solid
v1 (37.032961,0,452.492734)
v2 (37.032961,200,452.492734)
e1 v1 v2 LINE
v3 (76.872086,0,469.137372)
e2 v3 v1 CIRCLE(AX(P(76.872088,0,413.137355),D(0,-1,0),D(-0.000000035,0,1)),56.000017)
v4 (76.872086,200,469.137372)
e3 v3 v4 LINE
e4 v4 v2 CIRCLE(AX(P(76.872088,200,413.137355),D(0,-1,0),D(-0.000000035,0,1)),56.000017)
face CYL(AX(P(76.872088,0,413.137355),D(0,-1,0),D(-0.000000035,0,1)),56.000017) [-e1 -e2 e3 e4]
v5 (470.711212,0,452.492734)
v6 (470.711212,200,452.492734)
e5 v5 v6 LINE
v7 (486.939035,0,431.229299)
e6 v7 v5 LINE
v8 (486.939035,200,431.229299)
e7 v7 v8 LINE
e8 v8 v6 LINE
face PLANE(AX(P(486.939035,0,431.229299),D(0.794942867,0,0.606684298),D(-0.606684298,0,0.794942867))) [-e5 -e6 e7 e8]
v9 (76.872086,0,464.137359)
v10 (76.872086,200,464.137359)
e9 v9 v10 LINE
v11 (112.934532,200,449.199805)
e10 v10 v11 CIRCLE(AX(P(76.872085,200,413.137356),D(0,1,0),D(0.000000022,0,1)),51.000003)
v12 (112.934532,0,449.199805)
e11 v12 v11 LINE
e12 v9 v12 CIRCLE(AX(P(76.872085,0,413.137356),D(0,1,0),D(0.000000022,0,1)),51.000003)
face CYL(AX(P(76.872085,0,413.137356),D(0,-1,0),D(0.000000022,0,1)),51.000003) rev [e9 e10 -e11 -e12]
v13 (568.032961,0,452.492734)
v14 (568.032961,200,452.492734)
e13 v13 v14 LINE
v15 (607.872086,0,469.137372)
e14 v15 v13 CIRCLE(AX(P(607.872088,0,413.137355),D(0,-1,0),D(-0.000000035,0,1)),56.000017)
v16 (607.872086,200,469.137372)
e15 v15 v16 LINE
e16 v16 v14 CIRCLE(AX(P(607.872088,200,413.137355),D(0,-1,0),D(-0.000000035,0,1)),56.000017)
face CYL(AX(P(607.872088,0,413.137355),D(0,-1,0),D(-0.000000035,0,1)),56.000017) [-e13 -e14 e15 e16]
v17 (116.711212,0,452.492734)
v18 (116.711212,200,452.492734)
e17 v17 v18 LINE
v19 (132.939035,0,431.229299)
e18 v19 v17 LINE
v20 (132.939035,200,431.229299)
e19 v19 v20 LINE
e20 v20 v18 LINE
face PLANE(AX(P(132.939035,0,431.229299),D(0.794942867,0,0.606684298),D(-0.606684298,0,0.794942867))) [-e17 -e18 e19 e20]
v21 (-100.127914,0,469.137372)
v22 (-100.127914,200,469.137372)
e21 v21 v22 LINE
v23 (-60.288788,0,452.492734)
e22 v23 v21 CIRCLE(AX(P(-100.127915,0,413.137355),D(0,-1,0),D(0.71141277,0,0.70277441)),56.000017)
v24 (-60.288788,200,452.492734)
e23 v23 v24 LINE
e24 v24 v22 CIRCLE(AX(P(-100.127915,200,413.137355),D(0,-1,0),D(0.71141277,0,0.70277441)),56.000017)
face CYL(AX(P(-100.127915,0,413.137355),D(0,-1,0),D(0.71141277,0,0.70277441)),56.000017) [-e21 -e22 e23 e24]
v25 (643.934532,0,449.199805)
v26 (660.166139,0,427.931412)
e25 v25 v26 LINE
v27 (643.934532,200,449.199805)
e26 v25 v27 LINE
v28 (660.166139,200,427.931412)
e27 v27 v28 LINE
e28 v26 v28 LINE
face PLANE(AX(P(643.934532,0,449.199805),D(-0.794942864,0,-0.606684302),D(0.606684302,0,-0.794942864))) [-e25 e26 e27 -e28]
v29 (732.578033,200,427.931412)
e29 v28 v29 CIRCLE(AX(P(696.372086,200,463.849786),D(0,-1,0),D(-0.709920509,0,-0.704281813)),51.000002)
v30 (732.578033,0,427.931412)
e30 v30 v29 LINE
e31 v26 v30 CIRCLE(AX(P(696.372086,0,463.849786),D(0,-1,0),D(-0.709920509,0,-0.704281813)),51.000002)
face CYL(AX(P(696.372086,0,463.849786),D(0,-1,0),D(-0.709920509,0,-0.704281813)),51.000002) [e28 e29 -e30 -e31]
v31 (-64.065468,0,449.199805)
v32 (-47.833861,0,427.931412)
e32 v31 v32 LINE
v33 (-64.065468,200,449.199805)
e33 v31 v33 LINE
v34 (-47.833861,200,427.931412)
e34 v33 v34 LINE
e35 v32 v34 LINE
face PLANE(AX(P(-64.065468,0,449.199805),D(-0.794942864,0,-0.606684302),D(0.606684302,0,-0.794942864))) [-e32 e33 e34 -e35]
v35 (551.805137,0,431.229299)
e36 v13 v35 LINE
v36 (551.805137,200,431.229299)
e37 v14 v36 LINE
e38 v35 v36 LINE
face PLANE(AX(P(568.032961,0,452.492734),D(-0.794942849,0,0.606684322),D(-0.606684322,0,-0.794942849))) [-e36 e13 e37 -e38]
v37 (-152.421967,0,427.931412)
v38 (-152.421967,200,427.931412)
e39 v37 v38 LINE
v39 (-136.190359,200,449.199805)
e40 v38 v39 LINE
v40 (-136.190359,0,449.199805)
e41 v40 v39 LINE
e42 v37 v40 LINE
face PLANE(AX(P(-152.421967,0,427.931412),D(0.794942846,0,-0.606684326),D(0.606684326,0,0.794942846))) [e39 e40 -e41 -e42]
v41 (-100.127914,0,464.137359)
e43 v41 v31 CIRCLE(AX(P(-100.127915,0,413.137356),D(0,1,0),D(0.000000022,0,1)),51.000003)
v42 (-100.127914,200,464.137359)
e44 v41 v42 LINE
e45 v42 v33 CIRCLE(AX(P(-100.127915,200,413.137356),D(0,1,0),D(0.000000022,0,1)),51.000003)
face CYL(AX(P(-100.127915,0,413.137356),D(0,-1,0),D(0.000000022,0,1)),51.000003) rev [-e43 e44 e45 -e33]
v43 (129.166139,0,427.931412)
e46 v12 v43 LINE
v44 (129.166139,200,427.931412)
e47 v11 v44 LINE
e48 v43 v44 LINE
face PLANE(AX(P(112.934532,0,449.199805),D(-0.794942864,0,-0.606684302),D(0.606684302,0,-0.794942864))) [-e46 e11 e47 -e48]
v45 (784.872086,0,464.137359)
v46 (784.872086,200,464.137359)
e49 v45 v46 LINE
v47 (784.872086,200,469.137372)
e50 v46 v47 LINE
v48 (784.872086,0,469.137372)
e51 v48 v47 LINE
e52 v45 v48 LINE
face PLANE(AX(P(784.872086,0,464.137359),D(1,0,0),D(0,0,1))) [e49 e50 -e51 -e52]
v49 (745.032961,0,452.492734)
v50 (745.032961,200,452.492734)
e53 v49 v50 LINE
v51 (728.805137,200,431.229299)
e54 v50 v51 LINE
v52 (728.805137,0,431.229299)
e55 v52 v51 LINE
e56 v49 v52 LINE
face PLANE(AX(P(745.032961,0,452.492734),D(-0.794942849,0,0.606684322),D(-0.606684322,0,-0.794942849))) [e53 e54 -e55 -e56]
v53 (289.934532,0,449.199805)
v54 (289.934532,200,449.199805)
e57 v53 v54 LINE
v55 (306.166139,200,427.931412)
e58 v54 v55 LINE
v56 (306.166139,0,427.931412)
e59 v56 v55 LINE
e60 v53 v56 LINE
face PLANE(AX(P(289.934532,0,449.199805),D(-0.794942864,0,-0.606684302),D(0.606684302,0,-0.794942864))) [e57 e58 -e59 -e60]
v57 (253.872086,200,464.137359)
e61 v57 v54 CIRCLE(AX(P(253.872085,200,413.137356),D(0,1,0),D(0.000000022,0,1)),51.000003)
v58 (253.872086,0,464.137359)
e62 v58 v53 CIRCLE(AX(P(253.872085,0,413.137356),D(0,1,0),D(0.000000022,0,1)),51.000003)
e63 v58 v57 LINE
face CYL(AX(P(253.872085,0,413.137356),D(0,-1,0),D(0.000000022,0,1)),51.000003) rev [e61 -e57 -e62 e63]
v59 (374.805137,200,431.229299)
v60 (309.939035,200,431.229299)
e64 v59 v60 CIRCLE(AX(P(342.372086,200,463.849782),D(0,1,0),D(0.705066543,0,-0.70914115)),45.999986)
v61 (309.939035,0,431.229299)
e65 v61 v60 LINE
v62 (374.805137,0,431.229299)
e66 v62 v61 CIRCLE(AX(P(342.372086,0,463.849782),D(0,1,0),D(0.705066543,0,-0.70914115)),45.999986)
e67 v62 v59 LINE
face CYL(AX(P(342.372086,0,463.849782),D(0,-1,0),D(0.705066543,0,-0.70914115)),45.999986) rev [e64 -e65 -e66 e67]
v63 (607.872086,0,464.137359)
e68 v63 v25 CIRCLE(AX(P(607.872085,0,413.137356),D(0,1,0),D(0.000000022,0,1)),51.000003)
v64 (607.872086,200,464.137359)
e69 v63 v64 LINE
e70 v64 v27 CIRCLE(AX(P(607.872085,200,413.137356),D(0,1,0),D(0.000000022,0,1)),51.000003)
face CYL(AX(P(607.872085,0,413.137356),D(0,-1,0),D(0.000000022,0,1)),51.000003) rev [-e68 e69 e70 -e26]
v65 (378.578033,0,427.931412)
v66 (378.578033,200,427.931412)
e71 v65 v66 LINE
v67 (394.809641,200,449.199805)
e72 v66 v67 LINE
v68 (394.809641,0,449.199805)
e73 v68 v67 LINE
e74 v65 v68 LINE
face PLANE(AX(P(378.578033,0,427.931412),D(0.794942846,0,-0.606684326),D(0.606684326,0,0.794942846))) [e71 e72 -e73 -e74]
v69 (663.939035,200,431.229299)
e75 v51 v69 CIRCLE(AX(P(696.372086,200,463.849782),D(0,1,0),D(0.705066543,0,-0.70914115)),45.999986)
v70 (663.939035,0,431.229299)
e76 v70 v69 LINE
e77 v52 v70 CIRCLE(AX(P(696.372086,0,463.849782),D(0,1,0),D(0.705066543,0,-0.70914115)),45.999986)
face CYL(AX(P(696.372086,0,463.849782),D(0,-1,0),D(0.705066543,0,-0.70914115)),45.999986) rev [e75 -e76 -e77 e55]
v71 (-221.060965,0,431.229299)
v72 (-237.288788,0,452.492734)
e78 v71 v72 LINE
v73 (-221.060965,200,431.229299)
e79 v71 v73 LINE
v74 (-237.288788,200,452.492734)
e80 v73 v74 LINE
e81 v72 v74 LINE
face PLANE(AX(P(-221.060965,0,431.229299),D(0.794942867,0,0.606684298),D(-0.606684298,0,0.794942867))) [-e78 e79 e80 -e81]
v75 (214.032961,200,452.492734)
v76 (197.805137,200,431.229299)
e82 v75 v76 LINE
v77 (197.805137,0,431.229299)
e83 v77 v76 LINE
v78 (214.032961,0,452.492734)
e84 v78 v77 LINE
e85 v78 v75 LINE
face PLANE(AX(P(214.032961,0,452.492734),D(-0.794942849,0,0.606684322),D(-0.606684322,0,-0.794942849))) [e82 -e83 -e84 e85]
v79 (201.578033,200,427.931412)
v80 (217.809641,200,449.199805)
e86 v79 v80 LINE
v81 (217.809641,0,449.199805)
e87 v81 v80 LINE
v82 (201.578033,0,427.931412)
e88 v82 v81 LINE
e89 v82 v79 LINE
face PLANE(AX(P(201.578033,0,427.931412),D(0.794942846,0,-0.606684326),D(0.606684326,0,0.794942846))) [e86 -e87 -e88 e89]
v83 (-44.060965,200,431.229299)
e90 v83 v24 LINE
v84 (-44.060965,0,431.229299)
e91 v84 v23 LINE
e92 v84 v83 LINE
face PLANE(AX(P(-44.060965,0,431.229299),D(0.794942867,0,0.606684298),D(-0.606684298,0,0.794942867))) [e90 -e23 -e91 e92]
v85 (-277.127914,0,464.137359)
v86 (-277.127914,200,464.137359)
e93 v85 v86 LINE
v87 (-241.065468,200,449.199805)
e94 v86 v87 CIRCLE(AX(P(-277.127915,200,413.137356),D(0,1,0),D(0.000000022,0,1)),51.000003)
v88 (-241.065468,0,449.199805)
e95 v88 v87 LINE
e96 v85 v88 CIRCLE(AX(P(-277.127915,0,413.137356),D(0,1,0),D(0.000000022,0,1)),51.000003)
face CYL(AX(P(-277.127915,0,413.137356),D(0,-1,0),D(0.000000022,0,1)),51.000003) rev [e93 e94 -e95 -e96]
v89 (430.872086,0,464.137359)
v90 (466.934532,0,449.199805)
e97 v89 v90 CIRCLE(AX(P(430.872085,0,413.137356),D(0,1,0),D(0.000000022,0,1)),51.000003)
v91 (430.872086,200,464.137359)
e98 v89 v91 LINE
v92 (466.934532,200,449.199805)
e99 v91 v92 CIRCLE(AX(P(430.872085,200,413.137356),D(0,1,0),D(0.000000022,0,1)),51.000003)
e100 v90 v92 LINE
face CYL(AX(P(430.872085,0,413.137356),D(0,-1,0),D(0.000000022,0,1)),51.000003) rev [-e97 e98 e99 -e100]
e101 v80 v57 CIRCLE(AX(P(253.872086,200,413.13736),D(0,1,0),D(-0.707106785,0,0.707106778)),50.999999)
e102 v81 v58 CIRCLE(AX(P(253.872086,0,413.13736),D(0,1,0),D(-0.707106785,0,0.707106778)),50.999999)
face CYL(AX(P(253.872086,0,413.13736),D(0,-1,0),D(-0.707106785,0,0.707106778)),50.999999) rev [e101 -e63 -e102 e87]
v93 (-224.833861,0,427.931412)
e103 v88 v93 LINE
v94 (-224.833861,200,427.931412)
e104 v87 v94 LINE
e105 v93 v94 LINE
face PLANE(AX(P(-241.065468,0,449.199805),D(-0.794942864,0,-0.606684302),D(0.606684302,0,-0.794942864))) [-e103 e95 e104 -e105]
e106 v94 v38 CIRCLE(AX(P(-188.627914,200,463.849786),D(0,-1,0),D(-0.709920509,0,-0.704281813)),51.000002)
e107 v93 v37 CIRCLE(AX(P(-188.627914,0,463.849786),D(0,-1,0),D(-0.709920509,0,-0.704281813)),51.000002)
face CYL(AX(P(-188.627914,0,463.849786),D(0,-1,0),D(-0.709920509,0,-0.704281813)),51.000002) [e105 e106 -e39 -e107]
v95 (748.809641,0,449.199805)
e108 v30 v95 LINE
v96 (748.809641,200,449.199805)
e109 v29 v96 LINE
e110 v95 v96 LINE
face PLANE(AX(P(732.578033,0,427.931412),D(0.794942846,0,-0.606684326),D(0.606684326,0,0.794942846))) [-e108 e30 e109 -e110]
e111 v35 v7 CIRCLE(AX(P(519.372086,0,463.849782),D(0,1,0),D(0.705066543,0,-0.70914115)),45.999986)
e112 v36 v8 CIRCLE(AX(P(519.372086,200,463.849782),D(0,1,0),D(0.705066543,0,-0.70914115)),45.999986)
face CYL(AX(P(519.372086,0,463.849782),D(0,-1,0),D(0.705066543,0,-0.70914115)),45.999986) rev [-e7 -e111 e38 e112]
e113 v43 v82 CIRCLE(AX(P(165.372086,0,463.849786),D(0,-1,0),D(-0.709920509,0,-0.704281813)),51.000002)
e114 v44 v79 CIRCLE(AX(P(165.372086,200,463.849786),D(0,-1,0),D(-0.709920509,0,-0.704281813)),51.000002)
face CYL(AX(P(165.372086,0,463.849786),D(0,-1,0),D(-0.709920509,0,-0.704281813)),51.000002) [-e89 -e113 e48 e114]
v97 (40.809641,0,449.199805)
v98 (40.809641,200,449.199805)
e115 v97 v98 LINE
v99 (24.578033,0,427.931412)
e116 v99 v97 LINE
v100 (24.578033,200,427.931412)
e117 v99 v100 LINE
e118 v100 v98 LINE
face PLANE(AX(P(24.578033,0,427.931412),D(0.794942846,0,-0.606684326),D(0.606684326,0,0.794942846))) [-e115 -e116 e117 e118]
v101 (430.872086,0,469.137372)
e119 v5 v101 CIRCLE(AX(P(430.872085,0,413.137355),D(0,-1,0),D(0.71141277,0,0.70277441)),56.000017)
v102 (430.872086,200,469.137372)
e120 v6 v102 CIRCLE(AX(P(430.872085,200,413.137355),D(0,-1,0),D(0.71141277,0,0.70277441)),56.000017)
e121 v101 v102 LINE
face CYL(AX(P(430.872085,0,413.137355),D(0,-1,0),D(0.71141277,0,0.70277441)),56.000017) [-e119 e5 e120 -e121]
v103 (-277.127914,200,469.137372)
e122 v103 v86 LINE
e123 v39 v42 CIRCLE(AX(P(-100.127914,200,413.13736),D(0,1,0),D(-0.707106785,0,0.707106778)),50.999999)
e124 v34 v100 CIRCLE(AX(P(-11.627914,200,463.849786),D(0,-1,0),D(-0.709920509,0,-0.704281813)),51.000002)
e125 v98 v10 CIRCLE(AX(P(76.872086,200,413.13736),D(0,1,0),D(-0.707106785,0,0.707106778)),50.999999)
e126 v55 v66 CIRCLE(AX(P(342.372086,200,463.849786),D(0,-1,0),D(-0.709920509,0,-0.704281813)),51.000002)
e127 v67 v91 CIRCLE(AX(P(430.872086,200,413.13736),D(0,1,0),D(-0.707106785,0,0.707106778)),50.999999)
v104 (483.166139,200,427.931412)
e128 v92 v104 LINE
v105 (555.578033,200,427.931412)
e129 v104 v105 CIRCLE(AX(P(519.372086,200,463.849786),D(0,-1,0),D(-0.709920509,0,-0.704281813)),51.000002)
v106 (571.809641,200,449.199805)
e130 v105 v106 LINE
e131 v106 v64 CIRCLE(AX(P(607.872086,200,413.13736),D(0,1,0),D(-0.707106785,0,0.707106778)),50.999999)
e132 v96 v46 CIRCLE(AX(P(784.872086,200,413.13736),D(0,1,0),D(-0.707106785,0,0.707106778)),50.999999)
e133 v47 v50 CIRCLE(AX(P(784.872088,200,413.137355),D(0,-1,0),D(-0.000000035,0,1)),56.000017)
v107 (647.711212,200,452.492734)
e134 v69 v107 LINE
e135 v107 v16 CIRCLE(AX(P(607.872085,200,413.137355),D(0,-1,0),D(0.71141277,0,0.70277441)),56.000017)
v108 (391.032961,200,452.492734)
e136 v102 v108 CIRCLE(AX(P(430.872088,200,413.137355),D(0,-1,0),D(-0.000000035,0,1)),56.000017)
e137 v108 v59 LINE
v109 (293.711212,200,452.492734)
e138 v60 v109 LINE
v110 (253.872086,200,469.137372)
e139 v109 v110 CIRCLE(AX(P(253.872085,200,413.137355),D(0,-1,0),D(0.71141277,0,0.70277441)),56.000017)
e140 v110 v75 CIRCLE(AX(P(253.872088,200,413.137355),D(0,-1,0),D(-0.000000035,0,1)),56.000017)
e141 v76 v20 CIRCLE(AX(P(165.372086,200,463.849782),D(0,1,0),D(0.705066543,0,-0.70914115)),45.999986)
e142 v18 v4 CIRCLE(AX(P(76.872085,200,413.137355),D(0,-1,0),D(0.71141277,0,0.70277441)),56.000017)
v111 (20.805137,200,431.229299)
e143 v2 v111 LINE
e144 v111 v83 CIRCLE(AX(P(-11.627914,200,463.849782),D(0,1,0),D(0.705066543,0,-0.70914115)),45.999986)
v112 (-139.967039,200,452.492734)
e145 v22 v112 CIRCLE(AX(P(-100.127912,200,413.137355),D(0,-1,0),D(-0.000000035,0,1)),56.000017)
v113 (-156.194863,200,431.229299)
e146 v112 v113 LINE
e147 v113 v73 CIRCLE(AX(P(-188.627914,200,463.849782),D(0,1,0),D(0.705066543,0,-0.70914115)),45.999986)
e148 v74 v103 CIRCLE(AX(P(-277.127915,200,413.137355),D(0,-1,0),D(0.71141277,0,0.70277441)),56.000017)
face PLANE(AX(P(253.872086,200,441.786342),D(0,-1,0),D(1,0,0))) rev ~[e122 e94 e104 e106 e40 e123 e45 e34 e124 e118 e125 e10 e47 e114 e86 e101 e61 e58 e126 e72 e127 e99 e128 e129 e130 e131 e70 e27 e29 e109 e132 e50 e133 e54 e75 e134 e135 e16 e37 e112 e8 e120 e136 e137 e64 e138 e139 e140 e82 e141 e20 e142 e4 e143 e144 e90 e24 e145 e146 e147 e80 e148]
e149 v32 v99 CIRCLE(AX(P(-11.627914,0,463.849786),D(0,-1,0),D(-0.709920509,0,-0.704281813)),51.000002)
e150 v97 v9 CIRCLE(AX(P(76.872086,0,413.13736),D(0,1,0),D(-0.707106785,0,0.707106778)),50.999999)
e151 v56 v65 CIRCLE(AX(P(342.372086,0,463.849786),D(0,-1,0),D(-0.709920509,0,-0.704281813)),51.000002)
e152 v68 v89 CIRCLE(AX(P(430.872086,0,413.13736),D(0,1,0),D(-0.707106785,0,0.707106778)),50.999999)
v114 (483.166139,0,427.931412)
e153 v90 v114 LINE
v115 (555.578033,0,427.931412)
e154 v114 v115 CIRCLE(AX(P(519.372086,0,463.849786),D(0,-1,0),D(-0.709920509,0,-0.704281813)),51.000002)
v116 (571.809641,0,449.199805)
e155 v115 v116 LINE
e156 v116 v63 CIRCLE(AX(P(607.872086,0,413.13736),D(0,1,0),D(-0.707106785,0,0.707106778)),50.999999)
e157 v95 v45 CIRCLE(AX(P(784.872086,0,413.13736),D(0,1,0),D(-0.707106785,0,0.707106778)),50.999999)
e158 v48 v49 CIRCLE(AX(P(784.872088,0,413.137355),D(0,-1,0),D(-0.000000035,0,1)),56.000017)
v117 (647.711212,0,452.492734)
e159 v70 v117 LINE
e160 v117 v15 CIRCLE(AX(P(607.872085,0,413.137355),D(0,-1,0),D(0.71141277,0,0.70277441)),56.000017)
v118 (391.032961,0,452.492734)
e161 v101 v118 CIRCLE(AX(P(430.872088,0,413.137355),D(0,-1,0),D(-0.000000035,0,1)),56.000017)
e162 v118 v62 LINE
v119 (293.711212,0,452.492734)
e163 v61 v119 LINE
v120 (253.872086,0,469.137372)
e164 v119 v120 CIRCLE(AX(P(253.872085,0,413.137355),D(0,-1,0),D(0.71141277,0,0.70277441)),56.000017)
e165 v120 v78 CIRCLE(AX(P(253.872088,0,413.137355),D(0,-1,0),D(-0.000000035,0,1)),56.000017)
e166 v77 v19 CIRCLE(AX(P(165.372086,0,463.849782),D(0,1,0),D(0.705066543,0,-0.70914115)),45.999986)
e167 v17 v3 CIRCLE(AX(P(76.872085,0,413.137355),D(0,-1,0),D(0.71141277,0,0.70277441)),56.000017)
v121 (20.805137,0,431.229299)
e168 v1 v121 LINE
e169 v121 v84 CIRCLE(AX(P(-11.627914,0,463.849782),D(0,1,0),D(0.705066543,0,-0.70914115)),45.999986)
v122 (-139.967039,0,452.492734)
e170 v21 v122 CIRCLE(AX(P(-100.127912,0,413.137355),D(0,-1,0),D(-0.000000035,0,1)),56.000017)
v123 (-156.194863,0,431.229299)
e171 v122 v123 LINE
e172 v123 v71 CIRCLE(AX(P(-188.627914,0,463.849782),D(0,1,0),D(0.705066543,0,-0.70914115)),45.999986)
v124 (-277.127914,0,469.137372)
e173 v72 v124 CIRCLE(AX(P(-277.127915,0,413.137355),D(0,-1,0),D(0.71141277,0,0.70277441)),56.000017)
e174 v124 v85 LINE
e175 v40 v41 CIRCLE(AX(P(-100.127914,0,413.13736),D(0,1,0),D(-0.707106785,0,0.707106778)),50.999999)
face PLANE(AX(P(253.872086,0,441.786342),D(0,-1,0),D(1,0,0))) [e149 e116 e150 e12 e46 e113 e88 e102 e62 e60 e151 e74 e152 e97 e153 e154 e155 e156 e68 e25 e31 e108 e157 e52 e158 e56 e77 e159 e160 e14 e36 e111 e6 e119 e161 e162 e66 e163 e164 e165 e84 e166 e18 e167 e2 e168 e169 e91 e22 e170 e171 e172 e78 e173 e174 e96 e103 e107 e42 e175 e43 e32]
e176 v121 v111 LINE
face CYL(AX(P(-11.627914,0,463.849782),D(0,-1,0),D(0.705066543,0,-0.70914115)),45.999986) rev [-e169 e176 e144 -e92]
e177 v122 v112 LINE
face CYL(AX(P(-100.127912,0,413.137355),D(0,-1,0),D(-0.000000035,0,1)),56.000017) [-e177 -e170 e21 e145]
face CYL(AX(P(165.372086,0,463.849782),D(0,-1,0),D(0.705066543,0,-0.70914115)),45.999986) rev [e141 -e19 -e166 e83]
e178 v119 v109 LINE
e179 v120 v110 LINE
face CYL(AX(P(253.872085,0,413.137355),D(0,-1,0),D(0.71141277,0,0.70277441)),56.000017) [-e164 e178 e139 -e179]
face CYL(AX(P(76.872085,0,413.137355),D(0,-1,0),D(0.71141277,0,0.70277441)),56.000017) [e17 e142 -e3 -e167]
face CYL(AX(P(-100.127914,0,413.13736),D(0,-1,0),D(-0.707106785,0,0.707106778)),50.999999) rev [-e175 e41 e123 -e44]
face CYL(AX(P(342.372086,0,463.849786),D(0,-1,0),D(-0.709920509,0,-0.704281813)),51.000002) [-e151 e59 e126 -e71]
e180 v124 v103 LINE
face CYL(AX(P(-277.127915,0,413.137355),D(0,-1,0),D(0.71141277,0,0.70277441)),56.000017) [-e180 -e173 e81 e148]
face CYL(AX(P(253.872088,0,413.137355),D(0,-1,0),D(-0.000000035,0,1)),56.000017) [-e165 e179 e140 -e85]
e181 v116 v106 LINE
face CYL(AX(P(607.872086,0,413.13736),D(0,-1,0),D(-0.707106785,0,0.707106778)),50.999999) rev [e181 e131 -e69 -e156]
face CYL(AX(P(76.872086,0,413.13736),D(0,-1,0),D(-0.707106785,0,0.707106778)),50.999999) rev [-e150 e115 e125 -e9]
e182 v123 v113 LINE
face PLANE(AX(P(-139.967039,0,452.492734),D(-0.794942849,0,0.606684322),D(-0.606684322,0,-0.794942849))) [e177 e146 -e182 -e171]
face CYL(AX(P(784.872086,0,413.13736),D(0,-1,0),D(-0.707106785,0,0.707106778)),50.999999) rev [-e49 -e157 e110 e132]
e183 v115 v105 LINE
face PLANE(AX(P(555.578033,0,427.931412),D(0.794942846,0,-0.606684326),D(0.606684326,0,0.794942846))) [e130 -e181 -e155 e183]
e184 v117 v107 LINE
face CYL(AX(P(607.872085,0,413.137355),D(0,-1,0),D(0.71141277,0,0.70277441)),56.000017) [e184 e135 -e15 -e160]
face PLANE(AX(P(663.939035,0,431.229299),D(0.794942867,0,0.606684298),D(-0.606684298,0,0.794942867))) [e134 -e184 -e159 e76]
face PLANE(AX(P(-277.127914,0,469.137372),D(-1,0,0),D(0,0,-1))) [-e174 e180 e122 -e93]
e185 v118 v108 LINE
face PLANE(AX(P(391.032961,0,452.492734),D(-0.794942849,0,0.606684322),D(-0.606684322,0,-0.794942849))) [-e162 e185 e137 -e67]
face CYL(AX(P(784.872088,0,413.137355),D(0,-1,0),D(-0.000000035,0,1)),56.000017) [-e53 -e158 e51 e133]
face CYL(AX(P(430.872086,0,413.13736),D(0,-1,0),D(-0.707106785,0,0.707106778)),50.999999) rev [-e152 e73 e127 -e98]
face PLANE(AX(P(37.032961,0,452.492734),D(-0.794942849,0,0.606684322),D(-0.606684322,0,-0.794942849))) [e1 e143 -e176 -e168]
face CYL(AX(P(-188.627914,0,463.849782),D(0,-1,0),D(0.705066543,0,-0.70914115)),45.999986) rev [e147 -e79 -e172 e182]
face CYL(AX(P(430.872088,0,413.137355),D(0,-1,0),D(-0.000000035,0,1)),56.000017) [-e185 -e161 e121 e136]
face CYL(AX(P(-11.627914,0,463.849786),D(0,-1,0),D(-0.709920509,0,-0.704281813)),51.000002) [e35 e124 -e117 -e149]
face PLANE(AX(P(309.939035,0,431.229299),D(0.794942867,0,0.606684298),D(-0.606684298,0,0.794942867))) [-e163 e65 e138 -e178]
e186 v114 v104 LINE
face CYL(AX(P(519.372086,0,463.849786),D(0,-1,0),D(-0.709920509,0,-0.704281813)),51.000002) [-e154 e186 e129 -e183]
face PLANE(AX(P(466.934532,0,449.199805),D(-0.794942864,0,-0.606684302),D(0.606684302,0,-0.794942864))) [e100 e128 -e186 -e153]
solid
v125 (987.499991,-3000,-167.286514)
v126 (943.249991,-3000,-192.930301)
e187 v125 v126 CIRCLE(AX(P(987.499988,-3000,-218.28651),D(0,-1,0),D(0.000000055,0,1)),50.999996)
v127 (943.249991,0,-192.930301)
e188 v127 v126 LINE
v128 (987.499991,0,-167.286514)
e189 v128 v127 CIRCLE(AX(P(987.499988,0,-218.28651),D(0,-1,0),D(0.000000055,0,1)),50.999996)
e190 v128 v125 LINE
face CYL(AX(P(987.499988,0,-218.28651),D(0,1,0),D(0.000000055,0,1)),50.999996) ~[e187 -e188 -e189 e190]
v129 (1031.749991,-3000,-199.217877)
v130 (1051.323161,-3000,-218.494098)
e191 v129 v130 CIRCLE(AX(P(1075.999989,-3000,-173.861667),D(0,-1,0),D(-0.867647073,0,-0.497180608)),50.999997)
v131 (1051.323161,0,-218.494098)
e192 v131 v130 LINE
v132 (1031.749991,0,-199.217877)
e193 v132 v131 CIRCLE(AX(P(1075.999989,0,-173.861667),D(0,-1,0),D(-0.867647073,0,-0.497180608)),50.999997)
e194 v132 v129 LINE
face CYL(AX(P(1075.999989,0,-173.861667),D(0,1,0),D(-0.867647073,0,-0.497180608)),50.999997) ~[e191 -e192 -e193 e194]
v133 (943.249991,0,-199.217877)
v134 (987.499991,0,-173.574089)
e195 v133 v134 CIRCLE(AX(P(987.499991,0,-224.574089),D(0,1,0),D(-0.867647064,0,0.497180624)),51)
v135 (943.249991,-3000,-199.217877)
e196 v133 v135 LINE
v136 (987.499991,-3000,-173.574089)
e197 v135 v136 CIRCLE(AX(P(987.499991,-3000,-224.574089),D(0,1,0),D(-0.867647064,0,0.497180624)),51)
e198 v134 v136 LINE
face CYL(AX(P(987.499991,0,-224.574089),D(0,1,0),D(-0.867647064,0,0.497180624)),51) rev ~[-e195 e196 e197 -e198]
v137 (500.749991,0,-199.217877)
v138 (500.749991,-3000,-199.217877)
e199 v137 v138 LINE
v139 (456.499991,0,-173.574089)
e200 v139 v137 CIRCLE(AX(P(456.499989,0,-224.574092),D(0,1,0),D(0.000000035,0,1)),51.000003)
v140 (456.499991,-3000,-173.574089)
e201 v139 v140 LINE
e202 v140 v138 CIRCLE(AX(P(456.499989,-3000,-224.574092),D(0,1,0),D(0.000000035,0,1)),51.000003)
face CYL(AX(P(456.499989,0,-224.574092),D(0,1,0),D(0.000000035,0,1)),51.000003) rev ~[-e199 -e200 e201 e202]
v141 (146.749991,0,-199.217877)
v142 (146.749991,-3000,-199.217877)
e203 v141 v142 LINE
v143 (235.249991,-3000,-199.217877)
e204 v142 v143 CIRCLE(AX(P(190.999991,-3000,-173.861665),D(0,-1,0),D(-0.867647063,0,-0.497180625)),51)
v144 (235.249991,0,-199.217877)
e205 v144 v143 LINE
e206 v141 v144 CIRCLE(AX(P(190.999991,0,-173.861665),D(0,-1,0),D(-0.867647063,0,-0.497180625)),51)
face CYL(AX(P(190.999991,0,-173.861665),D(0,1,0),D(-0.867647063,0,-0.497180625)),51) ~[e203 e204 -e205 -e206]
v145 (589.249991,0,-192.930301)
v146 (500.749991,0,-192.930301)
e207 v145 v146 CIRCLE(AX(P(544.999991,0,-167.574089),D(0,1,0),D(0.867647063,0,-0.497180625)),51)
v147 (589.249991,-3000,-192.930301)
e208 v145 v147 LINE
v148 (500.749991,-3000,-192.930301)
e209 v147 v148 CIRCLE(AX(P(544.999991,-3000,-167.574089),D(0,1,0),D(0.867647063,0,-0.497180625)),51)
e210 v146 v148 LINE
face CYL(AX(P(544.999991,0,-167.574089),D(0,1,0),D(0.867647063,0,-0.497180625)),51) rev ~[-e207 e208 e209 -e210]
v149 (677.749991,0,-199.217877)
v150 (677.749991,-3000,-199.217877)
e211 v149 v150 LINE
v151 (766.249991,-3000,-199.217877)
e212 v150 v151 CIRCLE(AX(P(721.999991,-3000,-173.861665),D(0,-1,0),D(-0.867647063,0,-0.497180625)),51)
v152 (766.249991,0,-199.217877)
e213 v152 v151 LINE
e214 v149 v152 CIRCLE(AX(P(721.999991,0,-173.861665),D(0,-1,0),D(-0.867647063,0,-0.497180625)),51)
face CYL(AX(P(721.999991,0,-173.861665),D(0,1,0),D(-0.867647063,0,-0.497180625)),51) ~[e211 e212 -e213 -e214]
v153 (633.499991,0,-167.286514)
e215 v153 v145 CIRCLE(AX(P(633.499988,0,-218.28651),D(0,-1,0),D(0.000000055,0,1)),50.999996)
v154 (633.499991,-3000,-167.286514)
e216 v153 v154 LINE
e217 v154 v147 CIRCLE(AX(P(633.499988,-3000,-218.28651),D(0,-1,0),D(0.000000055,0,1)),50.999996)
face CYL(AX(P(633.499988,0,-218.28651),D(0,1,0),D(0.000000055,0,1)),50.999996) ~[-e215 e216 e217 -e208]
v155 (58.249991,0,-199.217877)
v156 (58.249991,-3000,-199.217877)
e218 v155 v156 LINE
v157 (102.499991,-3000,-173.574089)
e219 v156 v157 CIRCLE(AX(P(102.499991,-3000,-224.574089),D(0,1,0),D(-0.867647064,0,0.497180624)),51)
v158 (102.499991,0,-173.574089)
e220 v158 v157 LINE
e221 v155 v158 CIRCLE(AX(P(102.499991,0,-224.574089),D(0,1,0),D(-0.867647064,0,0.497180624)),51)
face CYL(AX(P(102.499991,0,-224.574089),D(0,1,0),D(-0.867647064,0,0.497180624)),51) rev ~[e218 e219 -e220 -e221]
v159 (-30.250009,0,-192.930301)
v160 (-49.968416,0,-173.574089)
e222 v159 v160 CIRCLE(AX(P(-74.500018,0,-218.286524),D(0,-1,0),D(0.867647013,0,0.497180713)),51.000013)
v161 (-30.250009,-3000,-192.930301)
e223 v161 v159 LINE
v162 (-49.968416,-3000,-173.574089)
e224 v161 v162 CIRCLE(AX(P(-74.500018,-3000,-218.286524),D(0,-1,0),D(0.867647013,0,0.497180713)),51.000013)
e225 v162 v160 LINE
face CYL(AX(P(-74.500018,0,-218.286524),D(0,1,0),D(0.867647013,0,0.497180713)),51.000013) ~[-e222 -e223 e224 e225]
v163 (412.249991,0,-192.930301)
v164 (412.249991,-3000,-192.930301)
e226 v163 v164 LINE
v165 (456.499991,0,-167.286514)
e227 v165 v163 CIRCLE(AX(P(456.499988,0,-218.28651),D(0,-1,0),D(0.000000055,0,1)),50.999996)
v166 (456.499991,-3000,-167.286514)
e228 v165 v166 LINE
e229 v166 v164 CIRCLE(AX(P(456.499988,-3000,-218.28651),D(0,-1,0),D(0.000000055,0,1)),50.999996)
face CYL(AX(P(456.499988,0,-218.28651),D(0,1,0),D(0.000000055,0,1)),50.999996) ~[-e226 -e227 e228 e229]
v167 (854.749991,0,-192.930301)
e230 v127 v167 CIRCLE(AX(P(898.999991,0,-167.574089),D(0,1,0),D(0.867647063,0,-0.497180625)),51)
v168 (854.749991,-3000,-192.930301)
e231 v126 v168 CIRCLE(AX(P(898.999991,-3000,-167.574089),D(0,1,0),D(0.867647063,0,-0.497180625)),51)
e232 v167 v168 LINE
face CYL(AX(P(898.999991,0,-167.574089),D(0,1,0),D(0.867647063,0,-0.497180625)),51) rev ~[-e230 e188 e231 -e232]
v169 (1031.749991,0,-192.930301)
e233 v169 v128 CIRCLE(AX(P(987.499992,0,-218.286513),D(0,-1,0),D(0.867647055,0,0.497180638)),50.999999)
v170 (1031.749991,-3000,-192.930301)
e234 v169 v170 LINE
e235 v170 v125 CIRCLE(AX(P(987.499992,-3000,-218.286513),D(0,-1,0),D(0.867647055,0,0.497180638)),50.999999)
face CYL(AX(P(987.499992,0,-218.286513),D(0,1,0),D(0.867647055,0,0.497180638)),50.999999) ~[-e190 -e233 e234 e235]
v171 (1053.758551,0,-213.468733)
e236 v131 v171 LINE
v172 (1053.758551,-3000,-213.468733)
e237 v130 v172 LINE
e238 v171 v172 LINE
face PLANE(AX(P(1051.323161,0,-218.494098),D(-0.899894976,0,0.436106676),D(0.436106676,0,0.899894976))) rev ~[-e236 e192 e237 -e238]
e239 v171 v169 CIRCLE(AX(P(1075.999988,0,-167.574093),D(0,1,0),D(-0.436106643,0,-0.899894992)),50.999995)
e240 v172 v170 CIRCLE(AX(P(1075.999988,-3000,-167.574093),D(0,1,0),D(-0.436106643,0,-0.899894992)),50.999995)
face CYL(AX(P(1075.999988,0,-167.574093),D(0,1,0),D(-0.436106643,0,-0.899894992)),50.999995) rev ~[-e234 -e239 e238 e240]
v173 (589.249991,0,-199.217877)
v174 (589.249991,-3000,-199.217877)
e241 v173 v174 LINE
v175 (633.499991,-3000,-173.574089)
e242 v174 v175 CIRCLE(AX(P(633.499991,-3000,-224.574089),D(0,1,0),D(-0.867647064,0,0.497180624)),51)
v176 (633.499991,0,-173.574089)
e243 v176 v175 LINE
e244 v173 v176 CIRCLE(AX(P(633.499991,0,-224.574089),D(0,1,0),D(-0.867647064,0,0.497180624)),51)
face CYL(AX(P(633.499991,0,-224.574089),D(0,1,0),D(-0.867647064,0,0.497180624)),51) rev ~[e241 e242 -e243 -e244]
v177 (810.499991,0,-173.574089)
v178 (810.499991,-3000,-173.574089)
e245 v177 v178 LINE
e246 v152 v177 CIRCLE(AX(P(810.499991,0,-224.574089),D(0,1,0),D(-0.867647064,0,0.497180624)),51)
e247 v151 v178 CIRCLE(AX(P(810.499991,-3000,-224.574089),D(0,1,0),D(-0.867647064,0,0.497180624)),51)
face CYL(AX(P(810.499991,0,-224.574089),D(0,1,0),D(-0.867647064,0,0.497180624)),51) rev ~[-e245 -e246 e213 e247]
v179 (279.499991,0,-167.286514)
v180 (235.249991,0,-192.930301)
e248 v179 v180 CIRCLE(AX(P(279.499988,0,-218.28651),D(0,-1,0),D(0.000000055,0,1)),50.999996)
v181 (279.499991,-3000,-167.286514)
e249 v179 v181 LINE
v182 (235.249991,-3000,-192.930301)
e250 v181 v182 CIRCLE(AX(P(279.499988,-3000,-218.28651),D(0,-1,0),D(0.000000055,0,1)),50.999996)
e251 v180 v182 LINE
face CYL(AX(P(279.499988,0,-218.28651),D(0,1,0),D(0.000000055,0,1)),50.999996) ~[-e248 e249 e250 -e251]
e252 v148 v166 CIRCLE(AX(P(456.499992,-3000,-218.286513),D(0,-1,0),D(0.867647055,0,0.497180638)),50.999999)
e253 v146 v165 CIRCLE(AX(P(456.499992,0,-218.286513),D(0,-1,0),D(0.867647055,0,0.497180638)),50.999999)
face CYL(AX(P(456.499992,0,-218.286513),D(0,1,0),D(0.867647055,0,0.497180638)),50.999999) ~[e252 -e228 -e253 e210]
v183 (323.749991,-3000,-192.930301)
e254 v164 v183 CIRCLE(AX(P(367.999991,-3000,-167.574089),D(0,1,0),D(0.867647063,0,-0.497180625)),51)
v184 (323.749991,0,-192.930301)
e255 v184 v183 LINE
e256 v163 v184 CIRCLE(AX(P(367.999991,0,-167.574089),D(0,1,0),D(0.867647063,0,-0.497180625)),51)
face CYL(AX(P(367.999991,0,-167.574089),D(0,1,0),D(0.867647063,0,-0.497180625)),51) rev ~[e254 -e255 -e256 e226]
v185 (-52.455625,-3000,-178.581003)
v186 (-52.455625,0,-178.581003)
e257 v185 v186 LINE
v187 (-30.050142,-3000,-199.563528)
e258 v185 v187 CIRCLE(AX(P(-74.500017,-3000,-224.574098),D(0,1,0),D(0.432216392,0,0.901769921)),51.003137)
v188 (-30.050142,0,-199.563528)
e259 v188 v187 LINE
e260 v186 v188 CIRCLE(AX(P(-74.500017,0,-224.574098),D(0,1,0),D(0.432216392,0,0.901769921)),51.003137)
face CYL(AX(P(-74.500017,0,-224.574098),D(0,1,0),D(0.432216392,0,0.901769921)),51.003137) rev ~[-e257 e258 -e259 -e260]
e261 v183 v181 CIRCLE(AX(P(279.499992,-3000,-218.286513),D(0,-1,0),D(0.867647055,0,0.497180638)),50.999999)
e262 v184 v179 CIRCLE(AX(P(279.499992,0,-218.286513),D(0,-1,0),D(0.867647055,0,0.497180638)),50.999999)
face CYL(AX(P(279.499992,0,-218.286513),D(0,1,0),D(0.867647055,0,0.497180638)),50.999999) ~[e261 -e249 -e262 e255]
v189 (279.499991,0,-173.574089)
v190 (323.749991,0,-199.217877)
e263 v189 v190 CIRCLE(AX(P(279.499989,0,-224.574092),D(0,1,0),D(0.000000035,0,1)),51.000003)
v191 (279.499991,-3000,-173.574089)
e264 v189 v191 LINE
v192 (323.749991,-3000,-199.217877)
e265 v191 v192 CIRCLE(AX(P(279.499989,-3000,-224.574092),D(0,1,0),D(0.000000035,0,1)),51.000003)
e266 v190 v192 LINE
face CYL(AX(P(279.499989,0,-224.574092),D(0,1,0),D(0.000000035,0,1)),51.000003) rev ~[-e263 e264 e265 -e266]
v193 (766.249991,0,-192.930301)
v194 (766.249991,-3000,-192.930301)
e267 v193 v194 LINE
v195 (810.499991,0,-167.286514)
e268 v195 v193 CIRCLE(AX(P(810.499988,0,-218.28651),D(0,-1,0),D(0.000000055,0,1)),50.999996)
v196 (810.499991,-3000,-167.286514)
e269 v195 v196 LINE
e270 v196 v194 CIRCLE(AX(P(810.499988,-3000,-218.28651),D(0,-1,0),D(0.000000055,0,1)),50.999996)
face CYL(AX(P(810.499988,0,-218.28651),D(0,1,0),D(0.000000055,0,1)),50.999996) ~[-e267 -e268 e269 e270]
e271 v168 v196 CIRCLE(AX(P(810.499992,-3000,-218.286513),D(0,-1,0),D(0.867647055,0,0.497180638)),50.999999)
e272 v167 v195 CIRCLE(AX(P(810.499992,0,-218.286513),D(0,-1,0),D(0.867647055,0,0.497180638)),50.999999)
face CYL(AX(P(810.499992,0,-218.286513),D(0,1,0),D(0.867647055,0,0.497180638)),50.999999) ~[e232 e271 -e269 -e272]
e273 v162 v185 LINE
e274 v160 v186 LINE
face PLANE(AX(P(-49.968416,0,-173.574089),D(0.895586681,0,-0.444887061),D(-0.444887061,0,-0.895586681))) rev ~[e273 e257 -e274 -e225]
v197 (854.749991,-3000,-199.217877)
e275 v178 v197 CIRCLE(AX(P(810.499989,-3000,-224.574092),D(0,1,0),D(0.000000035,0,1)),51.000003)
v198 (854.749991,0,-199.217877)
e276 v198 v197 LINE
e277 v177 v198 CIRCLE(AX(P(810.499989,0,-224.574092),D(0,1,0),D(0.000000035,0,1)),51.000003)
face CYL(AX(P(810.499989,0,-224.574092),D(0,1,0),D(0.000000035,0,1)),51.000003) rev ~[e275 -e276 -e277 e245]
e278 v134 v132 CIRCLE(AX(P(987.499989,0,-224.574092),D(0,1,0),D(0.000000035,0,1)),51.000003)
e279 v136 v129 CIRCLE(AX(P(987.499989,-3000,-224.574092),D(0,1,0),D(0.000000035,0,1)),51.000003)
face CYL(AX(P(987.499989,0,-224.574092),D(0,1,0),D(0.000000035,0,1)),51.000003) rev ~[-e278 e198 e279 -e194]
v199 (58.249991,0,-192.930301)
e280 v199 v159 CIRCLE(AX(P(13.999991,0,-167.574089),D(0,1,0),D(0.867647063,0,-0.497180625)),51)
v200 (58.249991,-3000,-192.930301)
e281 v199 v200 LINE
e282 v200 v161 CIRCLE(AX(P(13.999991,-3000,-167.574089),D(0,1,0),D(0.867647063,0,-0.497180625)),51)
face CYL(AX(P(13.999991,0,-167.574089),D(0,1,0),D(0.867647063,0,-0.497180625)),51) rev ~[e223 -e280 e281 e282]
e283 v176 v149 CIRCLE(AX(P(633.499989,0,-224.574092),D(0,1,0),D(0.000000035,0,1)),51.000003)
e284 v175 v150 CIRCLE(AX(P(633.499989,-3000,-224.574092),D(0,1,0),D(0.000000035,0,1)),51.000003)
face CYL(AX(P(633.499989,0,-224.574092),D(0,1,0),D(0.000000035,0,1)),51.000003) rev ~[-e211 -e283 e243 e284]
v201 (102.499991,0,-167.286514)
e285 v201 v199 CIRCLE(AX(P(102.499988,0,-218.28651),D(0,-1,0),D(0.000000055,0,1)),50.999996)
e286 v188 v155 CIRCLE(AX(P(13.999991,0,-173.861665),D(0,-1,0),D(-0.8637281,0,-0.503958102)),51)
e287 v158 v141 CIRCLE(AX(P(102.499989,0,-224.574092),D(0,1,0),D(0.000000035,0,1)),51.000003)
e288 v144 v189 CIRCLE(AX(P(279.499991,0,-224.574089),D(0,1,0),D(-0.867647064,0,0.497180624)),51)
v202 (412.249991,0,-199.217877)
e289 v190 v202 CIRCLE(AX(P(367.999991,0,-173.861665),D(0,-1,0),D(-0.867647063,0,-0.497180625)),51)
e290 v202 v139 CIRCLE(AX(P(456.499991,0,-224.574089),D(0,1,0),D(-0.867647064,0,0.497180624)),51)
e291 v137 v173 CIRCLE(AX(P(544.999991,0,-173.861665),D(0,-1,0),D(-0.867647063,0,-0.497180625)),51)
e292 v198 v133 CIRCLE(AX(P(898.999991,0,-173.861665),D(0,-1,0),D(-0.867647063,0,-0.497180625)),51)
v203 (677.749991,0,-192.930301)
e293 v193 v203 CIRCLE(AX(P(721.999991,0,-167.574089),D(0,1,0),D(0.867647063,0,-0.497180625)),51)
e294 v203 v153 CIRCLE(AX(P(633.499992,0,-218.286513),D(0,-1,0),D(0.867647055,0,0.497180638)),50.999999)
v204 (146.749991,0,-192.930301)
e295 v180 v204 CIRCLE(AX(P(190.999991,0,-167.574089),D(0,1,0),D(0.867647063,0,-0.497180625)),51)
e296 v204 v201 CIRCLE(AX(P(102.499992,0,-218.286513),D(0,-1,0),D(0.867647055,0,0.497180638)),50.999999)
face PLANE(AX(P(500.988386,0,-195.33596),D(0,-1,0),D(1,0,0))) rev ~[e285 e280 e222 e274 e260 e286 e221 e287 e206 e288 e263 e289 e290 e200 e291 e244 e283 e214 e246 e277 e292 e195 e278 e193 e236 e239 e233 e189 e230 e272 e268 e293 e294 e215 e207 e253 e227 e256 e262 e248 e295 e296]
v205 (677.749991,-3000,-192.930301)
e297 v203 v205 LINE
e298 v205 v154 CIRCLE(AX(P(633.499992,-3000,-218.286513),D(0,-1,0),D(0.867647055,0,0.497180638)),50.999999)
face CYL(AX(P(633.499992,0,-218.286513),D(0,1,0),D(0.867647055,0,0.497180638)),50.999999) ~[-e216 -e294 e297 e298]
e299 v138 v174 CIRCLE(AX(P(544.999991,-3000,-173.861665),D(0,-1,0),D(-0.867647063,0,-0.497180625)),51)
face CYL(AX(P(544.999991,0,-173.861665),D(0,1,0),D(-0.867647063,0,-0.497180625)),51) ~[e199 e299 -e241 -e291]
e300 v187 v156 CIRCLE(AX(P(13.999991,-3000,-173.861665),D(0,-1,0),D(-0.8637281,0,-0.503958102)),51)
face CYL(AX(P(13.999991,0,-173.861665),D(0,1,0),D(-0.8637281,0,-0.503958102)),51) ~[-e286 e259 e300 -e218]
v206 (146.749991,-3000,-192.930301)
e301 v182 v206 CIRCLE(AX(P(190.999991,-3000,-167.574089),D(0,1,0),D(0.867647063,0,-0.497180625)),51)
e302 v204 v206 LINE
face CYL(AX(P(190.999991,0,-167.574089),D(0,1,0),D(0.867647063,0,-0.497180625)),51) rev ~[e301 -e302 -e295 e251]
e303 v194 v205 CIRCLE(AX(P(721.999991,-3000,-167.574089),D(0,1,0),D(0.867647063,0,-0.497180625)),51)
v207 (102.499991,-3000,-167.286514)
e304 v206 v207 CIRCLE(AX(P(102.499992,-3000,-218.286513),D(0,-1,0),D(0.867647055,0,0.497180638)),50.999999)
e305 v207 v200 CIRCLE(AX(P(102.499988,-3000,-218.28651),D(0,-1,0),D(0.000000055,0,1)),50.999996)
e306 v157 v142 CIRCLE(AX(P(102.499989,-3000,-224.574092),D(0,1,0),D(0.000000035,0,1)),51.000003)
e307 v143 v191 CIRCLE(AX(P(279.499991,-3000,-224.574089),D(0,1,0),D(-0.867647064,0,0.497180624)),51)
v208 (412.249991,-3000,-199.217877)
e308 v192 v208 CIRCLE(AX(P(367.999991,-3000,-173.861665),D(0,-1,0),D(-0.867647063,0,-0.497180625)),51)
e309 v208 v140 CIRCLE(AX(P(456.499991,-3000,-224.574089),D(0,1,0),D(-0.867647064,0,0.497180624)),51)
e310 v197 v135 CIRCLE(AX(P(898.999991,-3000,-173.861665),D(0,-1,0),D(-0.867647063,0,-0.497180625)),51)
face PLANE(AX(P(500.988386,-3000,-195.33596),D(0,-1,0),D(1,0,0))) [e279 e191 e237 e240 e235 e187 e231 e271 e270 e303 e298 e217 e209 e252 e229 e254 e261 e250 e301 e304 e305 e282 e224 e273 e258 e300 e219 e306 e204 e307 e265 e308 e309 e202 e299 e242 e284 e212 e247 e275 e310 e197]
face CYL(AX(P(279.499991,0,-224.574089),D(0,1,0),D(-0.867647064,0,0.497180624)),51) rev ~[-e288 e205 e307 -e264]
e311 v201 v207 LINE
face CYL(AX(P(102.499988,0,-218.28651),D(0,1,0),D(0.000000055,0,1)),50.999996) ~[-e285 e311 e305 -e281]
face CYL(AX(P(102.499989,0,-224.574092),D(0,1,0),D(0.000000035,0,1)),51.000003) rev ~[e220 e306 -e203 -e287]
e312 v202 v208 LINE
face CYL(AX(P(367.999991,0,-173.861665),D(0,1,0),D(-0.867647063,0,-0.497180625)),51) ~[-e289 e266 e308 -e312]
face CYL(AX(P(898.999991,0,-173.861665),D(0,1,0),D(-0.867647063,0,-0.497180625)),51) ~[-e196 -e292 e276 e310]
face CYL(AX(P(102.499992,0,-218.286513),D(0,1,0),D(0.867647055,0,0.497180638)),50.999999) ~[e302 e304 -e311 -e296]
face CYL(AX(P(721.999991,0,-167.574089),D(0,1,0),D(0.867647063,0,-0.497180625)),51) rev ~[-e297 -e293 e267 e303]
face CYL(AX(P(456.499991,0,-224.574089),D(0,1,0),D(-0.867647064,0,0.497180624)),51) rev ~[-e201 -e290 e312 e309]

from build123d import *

# Parameters (mm, degrees)
F1_DEPTH = 25
F2_DEPTH = 3000
F4_DEPTH = 200


with BuildPart() as f1:
    # F0 (on Front) → F1 (new body)
    with BuildSketch(Plane.XZ):
        with BuildLine():
            ThreePointArc((-52.455625, -178.581003), (-39.636878, -187.346668), (-30.050142, -199.563528))
            ThreePointArc((-30.050142, -199.563528), (14.199629, -224.861274), (58.249991, -199.217877))
            ThreePointArc((58.249991, -199.217877), (76.928198, -180.448321), (102.499991, -173.574089))
            ThreePointArc((102.499991, -173.574089), (128.071783, -180.448321), (146.749991, -199.217877))
            ThreePointArc((146.749991, -199.217877), (190.999991, -224.861665), (235.249991, -199.217877))
            ThreePointArc((235.249991, -199.217877), (253.928198, -180.448321), (279.499991, -173.574089))
            ThreePointArc((279.499991, -173.574089), (305.071783, -180.448321), (323.749991, -199.217877))
            ThreePointArc((323.749991, -199.217877), (367.999991, -224.861665), (412.249991, -199.217877))
            ThreePointArc((412.249991, -199.217877), (430.928198, -180.448321), (456.499991, -173.574089))
            ThreePointArc((456.499991, -173.574089), (482.071783, -180.448321), (500.749991, -199.217877))
            ThreePointArc((500.749991, -199.217877), (544.999991, -224.861665), (589.249991, -199.217877))
            ThreePointArc((589.249991, -199.217877), (607.928198, -180.448321), (633.499991, -173.574089))
            ThreePointArc((633.499991, -173.574089), (659.071783, -180.448321), (677.749991, -199.217877))
            ThreePointArc((677.749991, -199.217877), (721.999991, -224.861665), (766.249991, -199.217877))
            ThreePointArc((766.249991, -199.217877), (784.928198, -180.448321), (810.499991, -173.574089))
            ThreePointArc((810.499991, -173.574089), (836.071783, -180.448321), (854.749991, -199.217877))
            ThreePointArc((854.749991, -199.217877), (898.999991, -224.861665), (943.249991, -199.217877))
            ThreePointArc((943.249991, -199.217877), (961.928198, -180.448321), (987.499991, -173.574089))
            ThreePointArc((987.499991, -173.574089), (1013.071783, -180.448321), (1031.749991, -199.217877))
            ThreePointArc((1031.749991, -199.217877), (1040.214237, -210.198696), (1051.323161, -218.494098))
            Line((1051.323161, -218.494098), (1053.758551, -213.468733))
            ThreePointArc((1053.758551, -213.468733), (1041.204378, -204.860351), (1031.749991, -192.930301))
            ThreePointArc((1031.749991, -192.930301), (1013.071783, -174.160745), (987.499991, -167.286514))
            ThreePointArc((987.499991, -167.286514), (961.928198, -174.160745), (943.249991, -192.930301))
            ThreePointArc((943.249991, -192.930301), (898.999991, -218.574089), (854.749991, -192.930301))
            ThreePointArc((854.749991, -192.930301), (836.071783, -174.160745), (810.499991, -167.286514))
            ThreePointArc((810.499991, -167.286514), (784.928198, -174.160745), (766.249991, -192.930301))
            ThreePointArc((766.249991, -192.930301), (721.999991, -218.574089), (677.749991, -192.930301))
            ThreePointArc((677.749991, -192.930301), (659.071783, -174.160745), (633.499991, -167.286514))
            ThreePointArc((633.499991, -167.286514), (607.928198, -174.160745), (589.249991, -192.930301))
            ThreePointArc((589.249991, -192.930301), (544.999991, -218.574089), (500.749991, -192.930301))
            ThreePointArc((500.749991, -192.930301), (482.071783, -174.160745), (456.499991, -167.286514))
            ThreePointArc((456.499991, -167.286514), (430.928198, -174.160745), (412.249991, -192.930301))
            ThreePointArc((412.249991, -192.930301), (367.999991, -218.574089), (323.749991, -192.930301))
            ThreePointArc((323.749991, -192.930301), (305.071783, -174.160745), (279.499991, -167.286514))
            ThreePointArc((279.499991, -167.286514), (253.928198, -174.160745), (235.249991, -192.930301))
            ThreePointArc((235.249991, -192.930301), (190.999991, -218.574089), (146.749991, -192.930301))
            ThreePointArc((146.749991, -192.930301), (128.071783, -174.160745), (102.499991, -167.286514))
            ThreePointArc((102.499991, -167.286514), (76.928198, -174.160745), (58.249991, -192.930301))
            ThreePointArc((58.249991, -192.930301), (13.999991, -218.574089), (-30.250009, -192.930301))
            ThreePointArc((-30.250009, -192.930301), (-38.773372, -181.891358), (-49.968416, -173.574089))
            Line((-49.968416, -173.574089), (-52.455625, -178.581003))
        make_face()
    extrude(amount=F1_DEPTH)

    # F0 (on Front) → F2 (join)
    with BuildSketch(Plane.XZ):
        with BuildLine():
            ThreePointArc((-52.455625, -178.581003), (-39.636878, -187.346668), (-30.050142, -199.563528))
            ThreePointArc((-30.050142, -199.563528), (14.199629, -224.861274), (58.249991, -199.217877))
            ThreePointArc((58.249991, -199.217877), (76.928198, -180.448321), (102.499991, -173.574089))
            ThreePointArc((102.499991, -173.574089), (128.071783, -180.448321), (146.749991, -199.217877))
            ThreePointArc((146.749991, -199.217877), (190.999991, -224.861665), (235.249991, -199.217877))
            ThreePointArc((235.249991, -199.217877), (253.928198, -180.448321), (279.499991, -173.574089))
            ThreePointArc((279.499991, -173.574089), (305.071783, -180.448321), (323.749991, -199.217877))
            ThreePointArc((323.749991, -199.217877), (367.999991, -224.861665), (412.249991, -199.217877))
            ThreePointArc((412.249991, -199.217877), (430.928198, -180.448321), (456.499991, -173.574089))
            ThreePointArc((456.499991, -173.574089), (482.071783, -180.448321), (500.749991, -199.217877))
            ThreePointArc((500.749991, -199.217877), (544.999991, -224.861665), (589.249991, -199.217877))
            ThreePointArc((589.249991, -199.217877), (607.928198, -180.448321), (633.499991, -173.574089))
            ThreePointArc((633.499991, -173.574089), (659.071783, -180.448321), (677.749991, -199.217877))
            ThreePointArc((677.749991, -199.217877), (721.999991, -224.861665), (766.249991, -199.217877))
            ThreePointArc((766.249991, -199.217877), (784.928198, -180.448321), (810.499991, -173.574089))
            ThreePointArc((810.499991, -173.574089), (836.071783, -180.448321), (854.749991, -199.217877))
            ThreePointArc((854.749991, -199.217877), (898.999991, -224.861665), (943.249991, -199.217877))
            ThreePointArc((943.249991, -199.217877), (961.928198, -180.448321), (987.499991, -173.574089))
            ThreePointArc((987.499991, -173.574089), (1013.071783, -180.448321), (1031.749991, -199.217877))
            ThreePointArc((1031.749991, -199.217877), (1040.214237, -210.198696), (1051.323161, -218.494098))
            Line((1051.323161, -218.494098), (1053.758551, -213.468733))
            ThreePointArc((1053.758551, -213.468733), (1041.204378, -204.860351), (1031.749991, -192.930301))
            ThreePointArc((1031.749991, -192.930301), (1013.071783, -174.160745), (987.499991, -167.286514))
            ThreePointArc((987.499991, -167.286514), (961.928198, -174.160745), (943.249991, -192.930301))
            ThreePointArc((943.249991, -192.930301), (898.999991, -218.574089), (854.749991, -192.930301))
            ThreePointArc((854.749991, -192.930301), (836.071783, -174.160745), (810.499991, -167.286514))
            ThreePointArc((810.499991, -167.286514), (784.928198, -174.160745), (766.249991, -192.930301))
            ThreePointArc((766.249991, -192.930301), (721.999991, -218.574089), (677.749991, -192.930301))
            ThreePointArc((677.749991, -192.930301), (659.071783, -174.160745), (633.499991, -167.286514))
            ThreePointArc((633.499991, -167.286514), (607.928198, -174.160745), (589.249991, -192.930301))
            ThreePointArc((589.249991, -192.930301), (544.999991, -218.574089), (500.749991, -192.930301))
            ThreePointArc((500.749991, -192.930301), (482.071783, -174.160745), (456.499991, -167.286514))
            ThreePointArc((456.499991, -167.286514), (430.928198, -174.160745), (412.249991, -192.930301))
            ThreePointArc((412.249991, -192.930301), (367.999991, -218.574089), (323.749991, -192.930301))
            ThreePointArc((323.749991, -192.930301), (305.071783, -174.160745), (279.499991, -167.286514))
            ThreePointArc((279.499991, -167.286514), (253.928198, -174.160745), (235.249991, -192.930301))
            ThreePointArc((235.249991, -192.930301), (190.999991, -218.574089), (146.749991, -192.930301))
            ThreePointArc((146.749991, -192.930301), (128.071783, -174.160745), (102.499991, -167.286514))
            ThreePointArc((102.499991, -167.286514), (76.928198, -174.160745), (58.249991, -192.930301))
            ThreePointArc((58.249991, -192.930301), (13.999991, -218.574089), (-30.250009, -192.930301))
            ThreePointArc((-30.250009, -192.930301), (-38.773372, -181.891358), (-49.968416, -173.574089))
            Line((-49.968416, -173.574089), (-52.455625, -178.581003))
        make_face()
    extrude(amount=F2_DEPTH)


with BuildPart() as f4:
    # F3 (on Front) → F4 (new body)
    with BuildSketch(Plane.XZ):
        with BuildLine():
            ThreePointArc((-277.127914, 464.137359), (-257.611059, 460.255215), (-241.065468, 449.199805))
            Line((-241.065468, 449.199805), (-224.833861, 427.931412))
            ThreePointArc((-224.833861, 427.931412), (-188.627914, 412.849784), (-152.421967, 427.931412))
            Line((-152.421967, 427.931412), (-136.190359, 449.199805))
            ThreePointArc((-136.190359, 449.199805), (-119.644769, 460.255215), (-100.127914, 464.137359))
            ThreePointArc((-100.127914, 464.137359), (-80.611059, 460.255215), (-64.065468, 449.199805))
            Line((-64.065468, 449.199805), (-47.833861, 427.931412))
            ThreePointArc((-47.833861, 427.931412), (-11.627914, 412.849784), (24.578033, 427.931412))
            Line((24.578033, 427.931412), (40.809641, 449.199805))
            ThreePointArc((40.809641, 449.199805), (57.355231, 460.255215), (76.872086, 464.137359))
            ThreePointArc((76.872086, 464.137359), (96.388941, 460.255215), (112.934532, 449.199805))
            Line((112.934532, 449.199805), (129.166139, 427.931412))
            ThreePointArc((129.166139, 427.931412), (165.372086, 412.849784), (201.578033, 427.931412))
            Line((201.578033, 427.931412), (217.809641, 449.199805))
            ThreePointArc((217.809641, 449.199805), (234.355231, 460.255215), (253.872086, 464.137359))
            ThreePointArc((253.872086, 464.137359), (273.388941, 460.255215), (289.934532, 449.199805))
            Line((289.934532, 449.199805), (306.166139, 427.931412))
            ThreePointArc((306.166139, 427.931412), (342.372086, 412.849784), (378.578033, 427.931412))
            Line((378.578033, 427.931412), (394.809641, 449.199805))
            ThreePointArc((394.809641, 449.199805), (411.355231, 460.255215), (430.872086, 464.137359))
            ThreePointArc((430.872086, 464.137359), (450.388941, 460.255215), (466.934532, 449.199805))
            Line((466.934532, 449.199805), (483.166139, 427.931412))
            ThreePointArc((483.166139, 427.931412), (519.372086, 412.849784), (555.578033, 427.931412))
            Line((555.578033, 427.931412), (571.809641, 449.199805))
            ThreePointArc((571.809641, 449.199805), (588.355231, 460.255215), (607.872086, 464.137359))
            ThreePointArc((607.872086, 464.137359), (627.388941, 460.255215), (643.934532, 449.199805))
            Line((643.934532, 449.199805), (660.166139, 427.931412))
            ThreePointArc((660.166139, 427.931412), (696.372086, 412.849784), (732.578033, 427.931412))
            Line((732.578033, 427.931412), (748.809641, 449.199805))
            ThreePointArc((748.809641, 449.199805), (765.355231, 460.255215), (784.872086, 464.137359))
            Line((784.872086, 464.137359), (784.872086, 469.137372))
            ThreePointArc((784.872086, 469.137372), (763.283896, 464.808932), (745.032961, 452.492734))
            Line((745.032961, 452.492734), (728.805137, 431.229299))
            ThreePointArc((728.805137, 431.229299), (696.372086, 417.849796), (663.939035, 431.229299))
            Line((663.939035, 431.229299), (647.711212, 452.492734))
            ThreePointArc((647.711212, 452.492734), (629.460277, 464.808932), (607.872086, 469.137372))
            ThreePointArc((607.872086, 469.137372), (586.283896, 464.808932), (568.032961, 452.492734))
            Line((568.032961, 452.492734), (551.805137, 431.229299))
            ThreePointArc((551.805137, 431.229299), (519.372086, 417.849796), (486.939035, 431.229299))
            Line((486.939035, 431.229299), (470.711212, 452.492734))
            ThreePointArc((470.711212, 452.492734), (452.460277, 464.808932), (430.872086, 469.137372))
            ThreePointArc((430.872086, 469.137372), (409.283896, 464.808932), (391.032961, 452.492734))
            Line((391.032961, 452.492734), (374.805137, 431.229299))
            ThreePointArc((374.805137, 431.229299), (342.372086, 417.849796), (309.939035, 431.229299))
            Line((309.939035, 431.229299), (293.711212, 452.492734))
            ThreePointArc((293.711212, 452.492734), (275.460277, 464.808932), (253.872086, 469.137372))
            ThreePointArc((253.872086, 469.137372), (232.283896, 464.808932), (214.032961, 452.492734))
            Line((214.032961, 452.492734), (197.805137, 431.229299))
            ThreePointArc((197.805137, 431.229299), (165.372086, 417.849796), (132.939035, 431.229299))
            Line((132.939035, 431.229299), (116.711212, 452.492734))
            ThreePointArc((116.711212, 452.492734), (98.460277, 464.808932), (76.872086, 469.137372))
            ThreePointArc((76.872086, 469.137372), (55.283896, 464.808932), (37.032961, 452.492734))
            Line((37.032961, 452.492734), (20.805137, 431.229299))
            ThreePointArc((20.805137, 431.229299), (-11.627914, 417.849796), (-44.060965, 431.229299))
            Line((-44.060965, 431.229299), (-60.288788, 452.492734))
            ThreePointArc((-60.288788, 452.492734), (-78.539723, 464.808932), (-100.127914, 469.137372))
            ThreePointArc((-100.127914, 469.137372), (-121.716104, 464.808932), (-139.967039, 452.492734))
            Line((-139.967039, 452.492734), (-156.194863, 431.229299))
            ThreePointArc((-156.194863, 431.229299), (-188.627914, 417.849796), (-221.060965, 431.229299))
            Line((-221.060965, 431.229299), (-237.288788, 452.492734))
            ThreePointArc((-237.288788, 452.492734), (-255.539723, 464.808932), (-277.127914, 469.137372))
            Line((-277.127914, 469.137372), (-277.127914, 464.137359))
        make_face()
    extrude(amount=-F4_DEPTH)


solid = Compound([f1.part, f4.part])
